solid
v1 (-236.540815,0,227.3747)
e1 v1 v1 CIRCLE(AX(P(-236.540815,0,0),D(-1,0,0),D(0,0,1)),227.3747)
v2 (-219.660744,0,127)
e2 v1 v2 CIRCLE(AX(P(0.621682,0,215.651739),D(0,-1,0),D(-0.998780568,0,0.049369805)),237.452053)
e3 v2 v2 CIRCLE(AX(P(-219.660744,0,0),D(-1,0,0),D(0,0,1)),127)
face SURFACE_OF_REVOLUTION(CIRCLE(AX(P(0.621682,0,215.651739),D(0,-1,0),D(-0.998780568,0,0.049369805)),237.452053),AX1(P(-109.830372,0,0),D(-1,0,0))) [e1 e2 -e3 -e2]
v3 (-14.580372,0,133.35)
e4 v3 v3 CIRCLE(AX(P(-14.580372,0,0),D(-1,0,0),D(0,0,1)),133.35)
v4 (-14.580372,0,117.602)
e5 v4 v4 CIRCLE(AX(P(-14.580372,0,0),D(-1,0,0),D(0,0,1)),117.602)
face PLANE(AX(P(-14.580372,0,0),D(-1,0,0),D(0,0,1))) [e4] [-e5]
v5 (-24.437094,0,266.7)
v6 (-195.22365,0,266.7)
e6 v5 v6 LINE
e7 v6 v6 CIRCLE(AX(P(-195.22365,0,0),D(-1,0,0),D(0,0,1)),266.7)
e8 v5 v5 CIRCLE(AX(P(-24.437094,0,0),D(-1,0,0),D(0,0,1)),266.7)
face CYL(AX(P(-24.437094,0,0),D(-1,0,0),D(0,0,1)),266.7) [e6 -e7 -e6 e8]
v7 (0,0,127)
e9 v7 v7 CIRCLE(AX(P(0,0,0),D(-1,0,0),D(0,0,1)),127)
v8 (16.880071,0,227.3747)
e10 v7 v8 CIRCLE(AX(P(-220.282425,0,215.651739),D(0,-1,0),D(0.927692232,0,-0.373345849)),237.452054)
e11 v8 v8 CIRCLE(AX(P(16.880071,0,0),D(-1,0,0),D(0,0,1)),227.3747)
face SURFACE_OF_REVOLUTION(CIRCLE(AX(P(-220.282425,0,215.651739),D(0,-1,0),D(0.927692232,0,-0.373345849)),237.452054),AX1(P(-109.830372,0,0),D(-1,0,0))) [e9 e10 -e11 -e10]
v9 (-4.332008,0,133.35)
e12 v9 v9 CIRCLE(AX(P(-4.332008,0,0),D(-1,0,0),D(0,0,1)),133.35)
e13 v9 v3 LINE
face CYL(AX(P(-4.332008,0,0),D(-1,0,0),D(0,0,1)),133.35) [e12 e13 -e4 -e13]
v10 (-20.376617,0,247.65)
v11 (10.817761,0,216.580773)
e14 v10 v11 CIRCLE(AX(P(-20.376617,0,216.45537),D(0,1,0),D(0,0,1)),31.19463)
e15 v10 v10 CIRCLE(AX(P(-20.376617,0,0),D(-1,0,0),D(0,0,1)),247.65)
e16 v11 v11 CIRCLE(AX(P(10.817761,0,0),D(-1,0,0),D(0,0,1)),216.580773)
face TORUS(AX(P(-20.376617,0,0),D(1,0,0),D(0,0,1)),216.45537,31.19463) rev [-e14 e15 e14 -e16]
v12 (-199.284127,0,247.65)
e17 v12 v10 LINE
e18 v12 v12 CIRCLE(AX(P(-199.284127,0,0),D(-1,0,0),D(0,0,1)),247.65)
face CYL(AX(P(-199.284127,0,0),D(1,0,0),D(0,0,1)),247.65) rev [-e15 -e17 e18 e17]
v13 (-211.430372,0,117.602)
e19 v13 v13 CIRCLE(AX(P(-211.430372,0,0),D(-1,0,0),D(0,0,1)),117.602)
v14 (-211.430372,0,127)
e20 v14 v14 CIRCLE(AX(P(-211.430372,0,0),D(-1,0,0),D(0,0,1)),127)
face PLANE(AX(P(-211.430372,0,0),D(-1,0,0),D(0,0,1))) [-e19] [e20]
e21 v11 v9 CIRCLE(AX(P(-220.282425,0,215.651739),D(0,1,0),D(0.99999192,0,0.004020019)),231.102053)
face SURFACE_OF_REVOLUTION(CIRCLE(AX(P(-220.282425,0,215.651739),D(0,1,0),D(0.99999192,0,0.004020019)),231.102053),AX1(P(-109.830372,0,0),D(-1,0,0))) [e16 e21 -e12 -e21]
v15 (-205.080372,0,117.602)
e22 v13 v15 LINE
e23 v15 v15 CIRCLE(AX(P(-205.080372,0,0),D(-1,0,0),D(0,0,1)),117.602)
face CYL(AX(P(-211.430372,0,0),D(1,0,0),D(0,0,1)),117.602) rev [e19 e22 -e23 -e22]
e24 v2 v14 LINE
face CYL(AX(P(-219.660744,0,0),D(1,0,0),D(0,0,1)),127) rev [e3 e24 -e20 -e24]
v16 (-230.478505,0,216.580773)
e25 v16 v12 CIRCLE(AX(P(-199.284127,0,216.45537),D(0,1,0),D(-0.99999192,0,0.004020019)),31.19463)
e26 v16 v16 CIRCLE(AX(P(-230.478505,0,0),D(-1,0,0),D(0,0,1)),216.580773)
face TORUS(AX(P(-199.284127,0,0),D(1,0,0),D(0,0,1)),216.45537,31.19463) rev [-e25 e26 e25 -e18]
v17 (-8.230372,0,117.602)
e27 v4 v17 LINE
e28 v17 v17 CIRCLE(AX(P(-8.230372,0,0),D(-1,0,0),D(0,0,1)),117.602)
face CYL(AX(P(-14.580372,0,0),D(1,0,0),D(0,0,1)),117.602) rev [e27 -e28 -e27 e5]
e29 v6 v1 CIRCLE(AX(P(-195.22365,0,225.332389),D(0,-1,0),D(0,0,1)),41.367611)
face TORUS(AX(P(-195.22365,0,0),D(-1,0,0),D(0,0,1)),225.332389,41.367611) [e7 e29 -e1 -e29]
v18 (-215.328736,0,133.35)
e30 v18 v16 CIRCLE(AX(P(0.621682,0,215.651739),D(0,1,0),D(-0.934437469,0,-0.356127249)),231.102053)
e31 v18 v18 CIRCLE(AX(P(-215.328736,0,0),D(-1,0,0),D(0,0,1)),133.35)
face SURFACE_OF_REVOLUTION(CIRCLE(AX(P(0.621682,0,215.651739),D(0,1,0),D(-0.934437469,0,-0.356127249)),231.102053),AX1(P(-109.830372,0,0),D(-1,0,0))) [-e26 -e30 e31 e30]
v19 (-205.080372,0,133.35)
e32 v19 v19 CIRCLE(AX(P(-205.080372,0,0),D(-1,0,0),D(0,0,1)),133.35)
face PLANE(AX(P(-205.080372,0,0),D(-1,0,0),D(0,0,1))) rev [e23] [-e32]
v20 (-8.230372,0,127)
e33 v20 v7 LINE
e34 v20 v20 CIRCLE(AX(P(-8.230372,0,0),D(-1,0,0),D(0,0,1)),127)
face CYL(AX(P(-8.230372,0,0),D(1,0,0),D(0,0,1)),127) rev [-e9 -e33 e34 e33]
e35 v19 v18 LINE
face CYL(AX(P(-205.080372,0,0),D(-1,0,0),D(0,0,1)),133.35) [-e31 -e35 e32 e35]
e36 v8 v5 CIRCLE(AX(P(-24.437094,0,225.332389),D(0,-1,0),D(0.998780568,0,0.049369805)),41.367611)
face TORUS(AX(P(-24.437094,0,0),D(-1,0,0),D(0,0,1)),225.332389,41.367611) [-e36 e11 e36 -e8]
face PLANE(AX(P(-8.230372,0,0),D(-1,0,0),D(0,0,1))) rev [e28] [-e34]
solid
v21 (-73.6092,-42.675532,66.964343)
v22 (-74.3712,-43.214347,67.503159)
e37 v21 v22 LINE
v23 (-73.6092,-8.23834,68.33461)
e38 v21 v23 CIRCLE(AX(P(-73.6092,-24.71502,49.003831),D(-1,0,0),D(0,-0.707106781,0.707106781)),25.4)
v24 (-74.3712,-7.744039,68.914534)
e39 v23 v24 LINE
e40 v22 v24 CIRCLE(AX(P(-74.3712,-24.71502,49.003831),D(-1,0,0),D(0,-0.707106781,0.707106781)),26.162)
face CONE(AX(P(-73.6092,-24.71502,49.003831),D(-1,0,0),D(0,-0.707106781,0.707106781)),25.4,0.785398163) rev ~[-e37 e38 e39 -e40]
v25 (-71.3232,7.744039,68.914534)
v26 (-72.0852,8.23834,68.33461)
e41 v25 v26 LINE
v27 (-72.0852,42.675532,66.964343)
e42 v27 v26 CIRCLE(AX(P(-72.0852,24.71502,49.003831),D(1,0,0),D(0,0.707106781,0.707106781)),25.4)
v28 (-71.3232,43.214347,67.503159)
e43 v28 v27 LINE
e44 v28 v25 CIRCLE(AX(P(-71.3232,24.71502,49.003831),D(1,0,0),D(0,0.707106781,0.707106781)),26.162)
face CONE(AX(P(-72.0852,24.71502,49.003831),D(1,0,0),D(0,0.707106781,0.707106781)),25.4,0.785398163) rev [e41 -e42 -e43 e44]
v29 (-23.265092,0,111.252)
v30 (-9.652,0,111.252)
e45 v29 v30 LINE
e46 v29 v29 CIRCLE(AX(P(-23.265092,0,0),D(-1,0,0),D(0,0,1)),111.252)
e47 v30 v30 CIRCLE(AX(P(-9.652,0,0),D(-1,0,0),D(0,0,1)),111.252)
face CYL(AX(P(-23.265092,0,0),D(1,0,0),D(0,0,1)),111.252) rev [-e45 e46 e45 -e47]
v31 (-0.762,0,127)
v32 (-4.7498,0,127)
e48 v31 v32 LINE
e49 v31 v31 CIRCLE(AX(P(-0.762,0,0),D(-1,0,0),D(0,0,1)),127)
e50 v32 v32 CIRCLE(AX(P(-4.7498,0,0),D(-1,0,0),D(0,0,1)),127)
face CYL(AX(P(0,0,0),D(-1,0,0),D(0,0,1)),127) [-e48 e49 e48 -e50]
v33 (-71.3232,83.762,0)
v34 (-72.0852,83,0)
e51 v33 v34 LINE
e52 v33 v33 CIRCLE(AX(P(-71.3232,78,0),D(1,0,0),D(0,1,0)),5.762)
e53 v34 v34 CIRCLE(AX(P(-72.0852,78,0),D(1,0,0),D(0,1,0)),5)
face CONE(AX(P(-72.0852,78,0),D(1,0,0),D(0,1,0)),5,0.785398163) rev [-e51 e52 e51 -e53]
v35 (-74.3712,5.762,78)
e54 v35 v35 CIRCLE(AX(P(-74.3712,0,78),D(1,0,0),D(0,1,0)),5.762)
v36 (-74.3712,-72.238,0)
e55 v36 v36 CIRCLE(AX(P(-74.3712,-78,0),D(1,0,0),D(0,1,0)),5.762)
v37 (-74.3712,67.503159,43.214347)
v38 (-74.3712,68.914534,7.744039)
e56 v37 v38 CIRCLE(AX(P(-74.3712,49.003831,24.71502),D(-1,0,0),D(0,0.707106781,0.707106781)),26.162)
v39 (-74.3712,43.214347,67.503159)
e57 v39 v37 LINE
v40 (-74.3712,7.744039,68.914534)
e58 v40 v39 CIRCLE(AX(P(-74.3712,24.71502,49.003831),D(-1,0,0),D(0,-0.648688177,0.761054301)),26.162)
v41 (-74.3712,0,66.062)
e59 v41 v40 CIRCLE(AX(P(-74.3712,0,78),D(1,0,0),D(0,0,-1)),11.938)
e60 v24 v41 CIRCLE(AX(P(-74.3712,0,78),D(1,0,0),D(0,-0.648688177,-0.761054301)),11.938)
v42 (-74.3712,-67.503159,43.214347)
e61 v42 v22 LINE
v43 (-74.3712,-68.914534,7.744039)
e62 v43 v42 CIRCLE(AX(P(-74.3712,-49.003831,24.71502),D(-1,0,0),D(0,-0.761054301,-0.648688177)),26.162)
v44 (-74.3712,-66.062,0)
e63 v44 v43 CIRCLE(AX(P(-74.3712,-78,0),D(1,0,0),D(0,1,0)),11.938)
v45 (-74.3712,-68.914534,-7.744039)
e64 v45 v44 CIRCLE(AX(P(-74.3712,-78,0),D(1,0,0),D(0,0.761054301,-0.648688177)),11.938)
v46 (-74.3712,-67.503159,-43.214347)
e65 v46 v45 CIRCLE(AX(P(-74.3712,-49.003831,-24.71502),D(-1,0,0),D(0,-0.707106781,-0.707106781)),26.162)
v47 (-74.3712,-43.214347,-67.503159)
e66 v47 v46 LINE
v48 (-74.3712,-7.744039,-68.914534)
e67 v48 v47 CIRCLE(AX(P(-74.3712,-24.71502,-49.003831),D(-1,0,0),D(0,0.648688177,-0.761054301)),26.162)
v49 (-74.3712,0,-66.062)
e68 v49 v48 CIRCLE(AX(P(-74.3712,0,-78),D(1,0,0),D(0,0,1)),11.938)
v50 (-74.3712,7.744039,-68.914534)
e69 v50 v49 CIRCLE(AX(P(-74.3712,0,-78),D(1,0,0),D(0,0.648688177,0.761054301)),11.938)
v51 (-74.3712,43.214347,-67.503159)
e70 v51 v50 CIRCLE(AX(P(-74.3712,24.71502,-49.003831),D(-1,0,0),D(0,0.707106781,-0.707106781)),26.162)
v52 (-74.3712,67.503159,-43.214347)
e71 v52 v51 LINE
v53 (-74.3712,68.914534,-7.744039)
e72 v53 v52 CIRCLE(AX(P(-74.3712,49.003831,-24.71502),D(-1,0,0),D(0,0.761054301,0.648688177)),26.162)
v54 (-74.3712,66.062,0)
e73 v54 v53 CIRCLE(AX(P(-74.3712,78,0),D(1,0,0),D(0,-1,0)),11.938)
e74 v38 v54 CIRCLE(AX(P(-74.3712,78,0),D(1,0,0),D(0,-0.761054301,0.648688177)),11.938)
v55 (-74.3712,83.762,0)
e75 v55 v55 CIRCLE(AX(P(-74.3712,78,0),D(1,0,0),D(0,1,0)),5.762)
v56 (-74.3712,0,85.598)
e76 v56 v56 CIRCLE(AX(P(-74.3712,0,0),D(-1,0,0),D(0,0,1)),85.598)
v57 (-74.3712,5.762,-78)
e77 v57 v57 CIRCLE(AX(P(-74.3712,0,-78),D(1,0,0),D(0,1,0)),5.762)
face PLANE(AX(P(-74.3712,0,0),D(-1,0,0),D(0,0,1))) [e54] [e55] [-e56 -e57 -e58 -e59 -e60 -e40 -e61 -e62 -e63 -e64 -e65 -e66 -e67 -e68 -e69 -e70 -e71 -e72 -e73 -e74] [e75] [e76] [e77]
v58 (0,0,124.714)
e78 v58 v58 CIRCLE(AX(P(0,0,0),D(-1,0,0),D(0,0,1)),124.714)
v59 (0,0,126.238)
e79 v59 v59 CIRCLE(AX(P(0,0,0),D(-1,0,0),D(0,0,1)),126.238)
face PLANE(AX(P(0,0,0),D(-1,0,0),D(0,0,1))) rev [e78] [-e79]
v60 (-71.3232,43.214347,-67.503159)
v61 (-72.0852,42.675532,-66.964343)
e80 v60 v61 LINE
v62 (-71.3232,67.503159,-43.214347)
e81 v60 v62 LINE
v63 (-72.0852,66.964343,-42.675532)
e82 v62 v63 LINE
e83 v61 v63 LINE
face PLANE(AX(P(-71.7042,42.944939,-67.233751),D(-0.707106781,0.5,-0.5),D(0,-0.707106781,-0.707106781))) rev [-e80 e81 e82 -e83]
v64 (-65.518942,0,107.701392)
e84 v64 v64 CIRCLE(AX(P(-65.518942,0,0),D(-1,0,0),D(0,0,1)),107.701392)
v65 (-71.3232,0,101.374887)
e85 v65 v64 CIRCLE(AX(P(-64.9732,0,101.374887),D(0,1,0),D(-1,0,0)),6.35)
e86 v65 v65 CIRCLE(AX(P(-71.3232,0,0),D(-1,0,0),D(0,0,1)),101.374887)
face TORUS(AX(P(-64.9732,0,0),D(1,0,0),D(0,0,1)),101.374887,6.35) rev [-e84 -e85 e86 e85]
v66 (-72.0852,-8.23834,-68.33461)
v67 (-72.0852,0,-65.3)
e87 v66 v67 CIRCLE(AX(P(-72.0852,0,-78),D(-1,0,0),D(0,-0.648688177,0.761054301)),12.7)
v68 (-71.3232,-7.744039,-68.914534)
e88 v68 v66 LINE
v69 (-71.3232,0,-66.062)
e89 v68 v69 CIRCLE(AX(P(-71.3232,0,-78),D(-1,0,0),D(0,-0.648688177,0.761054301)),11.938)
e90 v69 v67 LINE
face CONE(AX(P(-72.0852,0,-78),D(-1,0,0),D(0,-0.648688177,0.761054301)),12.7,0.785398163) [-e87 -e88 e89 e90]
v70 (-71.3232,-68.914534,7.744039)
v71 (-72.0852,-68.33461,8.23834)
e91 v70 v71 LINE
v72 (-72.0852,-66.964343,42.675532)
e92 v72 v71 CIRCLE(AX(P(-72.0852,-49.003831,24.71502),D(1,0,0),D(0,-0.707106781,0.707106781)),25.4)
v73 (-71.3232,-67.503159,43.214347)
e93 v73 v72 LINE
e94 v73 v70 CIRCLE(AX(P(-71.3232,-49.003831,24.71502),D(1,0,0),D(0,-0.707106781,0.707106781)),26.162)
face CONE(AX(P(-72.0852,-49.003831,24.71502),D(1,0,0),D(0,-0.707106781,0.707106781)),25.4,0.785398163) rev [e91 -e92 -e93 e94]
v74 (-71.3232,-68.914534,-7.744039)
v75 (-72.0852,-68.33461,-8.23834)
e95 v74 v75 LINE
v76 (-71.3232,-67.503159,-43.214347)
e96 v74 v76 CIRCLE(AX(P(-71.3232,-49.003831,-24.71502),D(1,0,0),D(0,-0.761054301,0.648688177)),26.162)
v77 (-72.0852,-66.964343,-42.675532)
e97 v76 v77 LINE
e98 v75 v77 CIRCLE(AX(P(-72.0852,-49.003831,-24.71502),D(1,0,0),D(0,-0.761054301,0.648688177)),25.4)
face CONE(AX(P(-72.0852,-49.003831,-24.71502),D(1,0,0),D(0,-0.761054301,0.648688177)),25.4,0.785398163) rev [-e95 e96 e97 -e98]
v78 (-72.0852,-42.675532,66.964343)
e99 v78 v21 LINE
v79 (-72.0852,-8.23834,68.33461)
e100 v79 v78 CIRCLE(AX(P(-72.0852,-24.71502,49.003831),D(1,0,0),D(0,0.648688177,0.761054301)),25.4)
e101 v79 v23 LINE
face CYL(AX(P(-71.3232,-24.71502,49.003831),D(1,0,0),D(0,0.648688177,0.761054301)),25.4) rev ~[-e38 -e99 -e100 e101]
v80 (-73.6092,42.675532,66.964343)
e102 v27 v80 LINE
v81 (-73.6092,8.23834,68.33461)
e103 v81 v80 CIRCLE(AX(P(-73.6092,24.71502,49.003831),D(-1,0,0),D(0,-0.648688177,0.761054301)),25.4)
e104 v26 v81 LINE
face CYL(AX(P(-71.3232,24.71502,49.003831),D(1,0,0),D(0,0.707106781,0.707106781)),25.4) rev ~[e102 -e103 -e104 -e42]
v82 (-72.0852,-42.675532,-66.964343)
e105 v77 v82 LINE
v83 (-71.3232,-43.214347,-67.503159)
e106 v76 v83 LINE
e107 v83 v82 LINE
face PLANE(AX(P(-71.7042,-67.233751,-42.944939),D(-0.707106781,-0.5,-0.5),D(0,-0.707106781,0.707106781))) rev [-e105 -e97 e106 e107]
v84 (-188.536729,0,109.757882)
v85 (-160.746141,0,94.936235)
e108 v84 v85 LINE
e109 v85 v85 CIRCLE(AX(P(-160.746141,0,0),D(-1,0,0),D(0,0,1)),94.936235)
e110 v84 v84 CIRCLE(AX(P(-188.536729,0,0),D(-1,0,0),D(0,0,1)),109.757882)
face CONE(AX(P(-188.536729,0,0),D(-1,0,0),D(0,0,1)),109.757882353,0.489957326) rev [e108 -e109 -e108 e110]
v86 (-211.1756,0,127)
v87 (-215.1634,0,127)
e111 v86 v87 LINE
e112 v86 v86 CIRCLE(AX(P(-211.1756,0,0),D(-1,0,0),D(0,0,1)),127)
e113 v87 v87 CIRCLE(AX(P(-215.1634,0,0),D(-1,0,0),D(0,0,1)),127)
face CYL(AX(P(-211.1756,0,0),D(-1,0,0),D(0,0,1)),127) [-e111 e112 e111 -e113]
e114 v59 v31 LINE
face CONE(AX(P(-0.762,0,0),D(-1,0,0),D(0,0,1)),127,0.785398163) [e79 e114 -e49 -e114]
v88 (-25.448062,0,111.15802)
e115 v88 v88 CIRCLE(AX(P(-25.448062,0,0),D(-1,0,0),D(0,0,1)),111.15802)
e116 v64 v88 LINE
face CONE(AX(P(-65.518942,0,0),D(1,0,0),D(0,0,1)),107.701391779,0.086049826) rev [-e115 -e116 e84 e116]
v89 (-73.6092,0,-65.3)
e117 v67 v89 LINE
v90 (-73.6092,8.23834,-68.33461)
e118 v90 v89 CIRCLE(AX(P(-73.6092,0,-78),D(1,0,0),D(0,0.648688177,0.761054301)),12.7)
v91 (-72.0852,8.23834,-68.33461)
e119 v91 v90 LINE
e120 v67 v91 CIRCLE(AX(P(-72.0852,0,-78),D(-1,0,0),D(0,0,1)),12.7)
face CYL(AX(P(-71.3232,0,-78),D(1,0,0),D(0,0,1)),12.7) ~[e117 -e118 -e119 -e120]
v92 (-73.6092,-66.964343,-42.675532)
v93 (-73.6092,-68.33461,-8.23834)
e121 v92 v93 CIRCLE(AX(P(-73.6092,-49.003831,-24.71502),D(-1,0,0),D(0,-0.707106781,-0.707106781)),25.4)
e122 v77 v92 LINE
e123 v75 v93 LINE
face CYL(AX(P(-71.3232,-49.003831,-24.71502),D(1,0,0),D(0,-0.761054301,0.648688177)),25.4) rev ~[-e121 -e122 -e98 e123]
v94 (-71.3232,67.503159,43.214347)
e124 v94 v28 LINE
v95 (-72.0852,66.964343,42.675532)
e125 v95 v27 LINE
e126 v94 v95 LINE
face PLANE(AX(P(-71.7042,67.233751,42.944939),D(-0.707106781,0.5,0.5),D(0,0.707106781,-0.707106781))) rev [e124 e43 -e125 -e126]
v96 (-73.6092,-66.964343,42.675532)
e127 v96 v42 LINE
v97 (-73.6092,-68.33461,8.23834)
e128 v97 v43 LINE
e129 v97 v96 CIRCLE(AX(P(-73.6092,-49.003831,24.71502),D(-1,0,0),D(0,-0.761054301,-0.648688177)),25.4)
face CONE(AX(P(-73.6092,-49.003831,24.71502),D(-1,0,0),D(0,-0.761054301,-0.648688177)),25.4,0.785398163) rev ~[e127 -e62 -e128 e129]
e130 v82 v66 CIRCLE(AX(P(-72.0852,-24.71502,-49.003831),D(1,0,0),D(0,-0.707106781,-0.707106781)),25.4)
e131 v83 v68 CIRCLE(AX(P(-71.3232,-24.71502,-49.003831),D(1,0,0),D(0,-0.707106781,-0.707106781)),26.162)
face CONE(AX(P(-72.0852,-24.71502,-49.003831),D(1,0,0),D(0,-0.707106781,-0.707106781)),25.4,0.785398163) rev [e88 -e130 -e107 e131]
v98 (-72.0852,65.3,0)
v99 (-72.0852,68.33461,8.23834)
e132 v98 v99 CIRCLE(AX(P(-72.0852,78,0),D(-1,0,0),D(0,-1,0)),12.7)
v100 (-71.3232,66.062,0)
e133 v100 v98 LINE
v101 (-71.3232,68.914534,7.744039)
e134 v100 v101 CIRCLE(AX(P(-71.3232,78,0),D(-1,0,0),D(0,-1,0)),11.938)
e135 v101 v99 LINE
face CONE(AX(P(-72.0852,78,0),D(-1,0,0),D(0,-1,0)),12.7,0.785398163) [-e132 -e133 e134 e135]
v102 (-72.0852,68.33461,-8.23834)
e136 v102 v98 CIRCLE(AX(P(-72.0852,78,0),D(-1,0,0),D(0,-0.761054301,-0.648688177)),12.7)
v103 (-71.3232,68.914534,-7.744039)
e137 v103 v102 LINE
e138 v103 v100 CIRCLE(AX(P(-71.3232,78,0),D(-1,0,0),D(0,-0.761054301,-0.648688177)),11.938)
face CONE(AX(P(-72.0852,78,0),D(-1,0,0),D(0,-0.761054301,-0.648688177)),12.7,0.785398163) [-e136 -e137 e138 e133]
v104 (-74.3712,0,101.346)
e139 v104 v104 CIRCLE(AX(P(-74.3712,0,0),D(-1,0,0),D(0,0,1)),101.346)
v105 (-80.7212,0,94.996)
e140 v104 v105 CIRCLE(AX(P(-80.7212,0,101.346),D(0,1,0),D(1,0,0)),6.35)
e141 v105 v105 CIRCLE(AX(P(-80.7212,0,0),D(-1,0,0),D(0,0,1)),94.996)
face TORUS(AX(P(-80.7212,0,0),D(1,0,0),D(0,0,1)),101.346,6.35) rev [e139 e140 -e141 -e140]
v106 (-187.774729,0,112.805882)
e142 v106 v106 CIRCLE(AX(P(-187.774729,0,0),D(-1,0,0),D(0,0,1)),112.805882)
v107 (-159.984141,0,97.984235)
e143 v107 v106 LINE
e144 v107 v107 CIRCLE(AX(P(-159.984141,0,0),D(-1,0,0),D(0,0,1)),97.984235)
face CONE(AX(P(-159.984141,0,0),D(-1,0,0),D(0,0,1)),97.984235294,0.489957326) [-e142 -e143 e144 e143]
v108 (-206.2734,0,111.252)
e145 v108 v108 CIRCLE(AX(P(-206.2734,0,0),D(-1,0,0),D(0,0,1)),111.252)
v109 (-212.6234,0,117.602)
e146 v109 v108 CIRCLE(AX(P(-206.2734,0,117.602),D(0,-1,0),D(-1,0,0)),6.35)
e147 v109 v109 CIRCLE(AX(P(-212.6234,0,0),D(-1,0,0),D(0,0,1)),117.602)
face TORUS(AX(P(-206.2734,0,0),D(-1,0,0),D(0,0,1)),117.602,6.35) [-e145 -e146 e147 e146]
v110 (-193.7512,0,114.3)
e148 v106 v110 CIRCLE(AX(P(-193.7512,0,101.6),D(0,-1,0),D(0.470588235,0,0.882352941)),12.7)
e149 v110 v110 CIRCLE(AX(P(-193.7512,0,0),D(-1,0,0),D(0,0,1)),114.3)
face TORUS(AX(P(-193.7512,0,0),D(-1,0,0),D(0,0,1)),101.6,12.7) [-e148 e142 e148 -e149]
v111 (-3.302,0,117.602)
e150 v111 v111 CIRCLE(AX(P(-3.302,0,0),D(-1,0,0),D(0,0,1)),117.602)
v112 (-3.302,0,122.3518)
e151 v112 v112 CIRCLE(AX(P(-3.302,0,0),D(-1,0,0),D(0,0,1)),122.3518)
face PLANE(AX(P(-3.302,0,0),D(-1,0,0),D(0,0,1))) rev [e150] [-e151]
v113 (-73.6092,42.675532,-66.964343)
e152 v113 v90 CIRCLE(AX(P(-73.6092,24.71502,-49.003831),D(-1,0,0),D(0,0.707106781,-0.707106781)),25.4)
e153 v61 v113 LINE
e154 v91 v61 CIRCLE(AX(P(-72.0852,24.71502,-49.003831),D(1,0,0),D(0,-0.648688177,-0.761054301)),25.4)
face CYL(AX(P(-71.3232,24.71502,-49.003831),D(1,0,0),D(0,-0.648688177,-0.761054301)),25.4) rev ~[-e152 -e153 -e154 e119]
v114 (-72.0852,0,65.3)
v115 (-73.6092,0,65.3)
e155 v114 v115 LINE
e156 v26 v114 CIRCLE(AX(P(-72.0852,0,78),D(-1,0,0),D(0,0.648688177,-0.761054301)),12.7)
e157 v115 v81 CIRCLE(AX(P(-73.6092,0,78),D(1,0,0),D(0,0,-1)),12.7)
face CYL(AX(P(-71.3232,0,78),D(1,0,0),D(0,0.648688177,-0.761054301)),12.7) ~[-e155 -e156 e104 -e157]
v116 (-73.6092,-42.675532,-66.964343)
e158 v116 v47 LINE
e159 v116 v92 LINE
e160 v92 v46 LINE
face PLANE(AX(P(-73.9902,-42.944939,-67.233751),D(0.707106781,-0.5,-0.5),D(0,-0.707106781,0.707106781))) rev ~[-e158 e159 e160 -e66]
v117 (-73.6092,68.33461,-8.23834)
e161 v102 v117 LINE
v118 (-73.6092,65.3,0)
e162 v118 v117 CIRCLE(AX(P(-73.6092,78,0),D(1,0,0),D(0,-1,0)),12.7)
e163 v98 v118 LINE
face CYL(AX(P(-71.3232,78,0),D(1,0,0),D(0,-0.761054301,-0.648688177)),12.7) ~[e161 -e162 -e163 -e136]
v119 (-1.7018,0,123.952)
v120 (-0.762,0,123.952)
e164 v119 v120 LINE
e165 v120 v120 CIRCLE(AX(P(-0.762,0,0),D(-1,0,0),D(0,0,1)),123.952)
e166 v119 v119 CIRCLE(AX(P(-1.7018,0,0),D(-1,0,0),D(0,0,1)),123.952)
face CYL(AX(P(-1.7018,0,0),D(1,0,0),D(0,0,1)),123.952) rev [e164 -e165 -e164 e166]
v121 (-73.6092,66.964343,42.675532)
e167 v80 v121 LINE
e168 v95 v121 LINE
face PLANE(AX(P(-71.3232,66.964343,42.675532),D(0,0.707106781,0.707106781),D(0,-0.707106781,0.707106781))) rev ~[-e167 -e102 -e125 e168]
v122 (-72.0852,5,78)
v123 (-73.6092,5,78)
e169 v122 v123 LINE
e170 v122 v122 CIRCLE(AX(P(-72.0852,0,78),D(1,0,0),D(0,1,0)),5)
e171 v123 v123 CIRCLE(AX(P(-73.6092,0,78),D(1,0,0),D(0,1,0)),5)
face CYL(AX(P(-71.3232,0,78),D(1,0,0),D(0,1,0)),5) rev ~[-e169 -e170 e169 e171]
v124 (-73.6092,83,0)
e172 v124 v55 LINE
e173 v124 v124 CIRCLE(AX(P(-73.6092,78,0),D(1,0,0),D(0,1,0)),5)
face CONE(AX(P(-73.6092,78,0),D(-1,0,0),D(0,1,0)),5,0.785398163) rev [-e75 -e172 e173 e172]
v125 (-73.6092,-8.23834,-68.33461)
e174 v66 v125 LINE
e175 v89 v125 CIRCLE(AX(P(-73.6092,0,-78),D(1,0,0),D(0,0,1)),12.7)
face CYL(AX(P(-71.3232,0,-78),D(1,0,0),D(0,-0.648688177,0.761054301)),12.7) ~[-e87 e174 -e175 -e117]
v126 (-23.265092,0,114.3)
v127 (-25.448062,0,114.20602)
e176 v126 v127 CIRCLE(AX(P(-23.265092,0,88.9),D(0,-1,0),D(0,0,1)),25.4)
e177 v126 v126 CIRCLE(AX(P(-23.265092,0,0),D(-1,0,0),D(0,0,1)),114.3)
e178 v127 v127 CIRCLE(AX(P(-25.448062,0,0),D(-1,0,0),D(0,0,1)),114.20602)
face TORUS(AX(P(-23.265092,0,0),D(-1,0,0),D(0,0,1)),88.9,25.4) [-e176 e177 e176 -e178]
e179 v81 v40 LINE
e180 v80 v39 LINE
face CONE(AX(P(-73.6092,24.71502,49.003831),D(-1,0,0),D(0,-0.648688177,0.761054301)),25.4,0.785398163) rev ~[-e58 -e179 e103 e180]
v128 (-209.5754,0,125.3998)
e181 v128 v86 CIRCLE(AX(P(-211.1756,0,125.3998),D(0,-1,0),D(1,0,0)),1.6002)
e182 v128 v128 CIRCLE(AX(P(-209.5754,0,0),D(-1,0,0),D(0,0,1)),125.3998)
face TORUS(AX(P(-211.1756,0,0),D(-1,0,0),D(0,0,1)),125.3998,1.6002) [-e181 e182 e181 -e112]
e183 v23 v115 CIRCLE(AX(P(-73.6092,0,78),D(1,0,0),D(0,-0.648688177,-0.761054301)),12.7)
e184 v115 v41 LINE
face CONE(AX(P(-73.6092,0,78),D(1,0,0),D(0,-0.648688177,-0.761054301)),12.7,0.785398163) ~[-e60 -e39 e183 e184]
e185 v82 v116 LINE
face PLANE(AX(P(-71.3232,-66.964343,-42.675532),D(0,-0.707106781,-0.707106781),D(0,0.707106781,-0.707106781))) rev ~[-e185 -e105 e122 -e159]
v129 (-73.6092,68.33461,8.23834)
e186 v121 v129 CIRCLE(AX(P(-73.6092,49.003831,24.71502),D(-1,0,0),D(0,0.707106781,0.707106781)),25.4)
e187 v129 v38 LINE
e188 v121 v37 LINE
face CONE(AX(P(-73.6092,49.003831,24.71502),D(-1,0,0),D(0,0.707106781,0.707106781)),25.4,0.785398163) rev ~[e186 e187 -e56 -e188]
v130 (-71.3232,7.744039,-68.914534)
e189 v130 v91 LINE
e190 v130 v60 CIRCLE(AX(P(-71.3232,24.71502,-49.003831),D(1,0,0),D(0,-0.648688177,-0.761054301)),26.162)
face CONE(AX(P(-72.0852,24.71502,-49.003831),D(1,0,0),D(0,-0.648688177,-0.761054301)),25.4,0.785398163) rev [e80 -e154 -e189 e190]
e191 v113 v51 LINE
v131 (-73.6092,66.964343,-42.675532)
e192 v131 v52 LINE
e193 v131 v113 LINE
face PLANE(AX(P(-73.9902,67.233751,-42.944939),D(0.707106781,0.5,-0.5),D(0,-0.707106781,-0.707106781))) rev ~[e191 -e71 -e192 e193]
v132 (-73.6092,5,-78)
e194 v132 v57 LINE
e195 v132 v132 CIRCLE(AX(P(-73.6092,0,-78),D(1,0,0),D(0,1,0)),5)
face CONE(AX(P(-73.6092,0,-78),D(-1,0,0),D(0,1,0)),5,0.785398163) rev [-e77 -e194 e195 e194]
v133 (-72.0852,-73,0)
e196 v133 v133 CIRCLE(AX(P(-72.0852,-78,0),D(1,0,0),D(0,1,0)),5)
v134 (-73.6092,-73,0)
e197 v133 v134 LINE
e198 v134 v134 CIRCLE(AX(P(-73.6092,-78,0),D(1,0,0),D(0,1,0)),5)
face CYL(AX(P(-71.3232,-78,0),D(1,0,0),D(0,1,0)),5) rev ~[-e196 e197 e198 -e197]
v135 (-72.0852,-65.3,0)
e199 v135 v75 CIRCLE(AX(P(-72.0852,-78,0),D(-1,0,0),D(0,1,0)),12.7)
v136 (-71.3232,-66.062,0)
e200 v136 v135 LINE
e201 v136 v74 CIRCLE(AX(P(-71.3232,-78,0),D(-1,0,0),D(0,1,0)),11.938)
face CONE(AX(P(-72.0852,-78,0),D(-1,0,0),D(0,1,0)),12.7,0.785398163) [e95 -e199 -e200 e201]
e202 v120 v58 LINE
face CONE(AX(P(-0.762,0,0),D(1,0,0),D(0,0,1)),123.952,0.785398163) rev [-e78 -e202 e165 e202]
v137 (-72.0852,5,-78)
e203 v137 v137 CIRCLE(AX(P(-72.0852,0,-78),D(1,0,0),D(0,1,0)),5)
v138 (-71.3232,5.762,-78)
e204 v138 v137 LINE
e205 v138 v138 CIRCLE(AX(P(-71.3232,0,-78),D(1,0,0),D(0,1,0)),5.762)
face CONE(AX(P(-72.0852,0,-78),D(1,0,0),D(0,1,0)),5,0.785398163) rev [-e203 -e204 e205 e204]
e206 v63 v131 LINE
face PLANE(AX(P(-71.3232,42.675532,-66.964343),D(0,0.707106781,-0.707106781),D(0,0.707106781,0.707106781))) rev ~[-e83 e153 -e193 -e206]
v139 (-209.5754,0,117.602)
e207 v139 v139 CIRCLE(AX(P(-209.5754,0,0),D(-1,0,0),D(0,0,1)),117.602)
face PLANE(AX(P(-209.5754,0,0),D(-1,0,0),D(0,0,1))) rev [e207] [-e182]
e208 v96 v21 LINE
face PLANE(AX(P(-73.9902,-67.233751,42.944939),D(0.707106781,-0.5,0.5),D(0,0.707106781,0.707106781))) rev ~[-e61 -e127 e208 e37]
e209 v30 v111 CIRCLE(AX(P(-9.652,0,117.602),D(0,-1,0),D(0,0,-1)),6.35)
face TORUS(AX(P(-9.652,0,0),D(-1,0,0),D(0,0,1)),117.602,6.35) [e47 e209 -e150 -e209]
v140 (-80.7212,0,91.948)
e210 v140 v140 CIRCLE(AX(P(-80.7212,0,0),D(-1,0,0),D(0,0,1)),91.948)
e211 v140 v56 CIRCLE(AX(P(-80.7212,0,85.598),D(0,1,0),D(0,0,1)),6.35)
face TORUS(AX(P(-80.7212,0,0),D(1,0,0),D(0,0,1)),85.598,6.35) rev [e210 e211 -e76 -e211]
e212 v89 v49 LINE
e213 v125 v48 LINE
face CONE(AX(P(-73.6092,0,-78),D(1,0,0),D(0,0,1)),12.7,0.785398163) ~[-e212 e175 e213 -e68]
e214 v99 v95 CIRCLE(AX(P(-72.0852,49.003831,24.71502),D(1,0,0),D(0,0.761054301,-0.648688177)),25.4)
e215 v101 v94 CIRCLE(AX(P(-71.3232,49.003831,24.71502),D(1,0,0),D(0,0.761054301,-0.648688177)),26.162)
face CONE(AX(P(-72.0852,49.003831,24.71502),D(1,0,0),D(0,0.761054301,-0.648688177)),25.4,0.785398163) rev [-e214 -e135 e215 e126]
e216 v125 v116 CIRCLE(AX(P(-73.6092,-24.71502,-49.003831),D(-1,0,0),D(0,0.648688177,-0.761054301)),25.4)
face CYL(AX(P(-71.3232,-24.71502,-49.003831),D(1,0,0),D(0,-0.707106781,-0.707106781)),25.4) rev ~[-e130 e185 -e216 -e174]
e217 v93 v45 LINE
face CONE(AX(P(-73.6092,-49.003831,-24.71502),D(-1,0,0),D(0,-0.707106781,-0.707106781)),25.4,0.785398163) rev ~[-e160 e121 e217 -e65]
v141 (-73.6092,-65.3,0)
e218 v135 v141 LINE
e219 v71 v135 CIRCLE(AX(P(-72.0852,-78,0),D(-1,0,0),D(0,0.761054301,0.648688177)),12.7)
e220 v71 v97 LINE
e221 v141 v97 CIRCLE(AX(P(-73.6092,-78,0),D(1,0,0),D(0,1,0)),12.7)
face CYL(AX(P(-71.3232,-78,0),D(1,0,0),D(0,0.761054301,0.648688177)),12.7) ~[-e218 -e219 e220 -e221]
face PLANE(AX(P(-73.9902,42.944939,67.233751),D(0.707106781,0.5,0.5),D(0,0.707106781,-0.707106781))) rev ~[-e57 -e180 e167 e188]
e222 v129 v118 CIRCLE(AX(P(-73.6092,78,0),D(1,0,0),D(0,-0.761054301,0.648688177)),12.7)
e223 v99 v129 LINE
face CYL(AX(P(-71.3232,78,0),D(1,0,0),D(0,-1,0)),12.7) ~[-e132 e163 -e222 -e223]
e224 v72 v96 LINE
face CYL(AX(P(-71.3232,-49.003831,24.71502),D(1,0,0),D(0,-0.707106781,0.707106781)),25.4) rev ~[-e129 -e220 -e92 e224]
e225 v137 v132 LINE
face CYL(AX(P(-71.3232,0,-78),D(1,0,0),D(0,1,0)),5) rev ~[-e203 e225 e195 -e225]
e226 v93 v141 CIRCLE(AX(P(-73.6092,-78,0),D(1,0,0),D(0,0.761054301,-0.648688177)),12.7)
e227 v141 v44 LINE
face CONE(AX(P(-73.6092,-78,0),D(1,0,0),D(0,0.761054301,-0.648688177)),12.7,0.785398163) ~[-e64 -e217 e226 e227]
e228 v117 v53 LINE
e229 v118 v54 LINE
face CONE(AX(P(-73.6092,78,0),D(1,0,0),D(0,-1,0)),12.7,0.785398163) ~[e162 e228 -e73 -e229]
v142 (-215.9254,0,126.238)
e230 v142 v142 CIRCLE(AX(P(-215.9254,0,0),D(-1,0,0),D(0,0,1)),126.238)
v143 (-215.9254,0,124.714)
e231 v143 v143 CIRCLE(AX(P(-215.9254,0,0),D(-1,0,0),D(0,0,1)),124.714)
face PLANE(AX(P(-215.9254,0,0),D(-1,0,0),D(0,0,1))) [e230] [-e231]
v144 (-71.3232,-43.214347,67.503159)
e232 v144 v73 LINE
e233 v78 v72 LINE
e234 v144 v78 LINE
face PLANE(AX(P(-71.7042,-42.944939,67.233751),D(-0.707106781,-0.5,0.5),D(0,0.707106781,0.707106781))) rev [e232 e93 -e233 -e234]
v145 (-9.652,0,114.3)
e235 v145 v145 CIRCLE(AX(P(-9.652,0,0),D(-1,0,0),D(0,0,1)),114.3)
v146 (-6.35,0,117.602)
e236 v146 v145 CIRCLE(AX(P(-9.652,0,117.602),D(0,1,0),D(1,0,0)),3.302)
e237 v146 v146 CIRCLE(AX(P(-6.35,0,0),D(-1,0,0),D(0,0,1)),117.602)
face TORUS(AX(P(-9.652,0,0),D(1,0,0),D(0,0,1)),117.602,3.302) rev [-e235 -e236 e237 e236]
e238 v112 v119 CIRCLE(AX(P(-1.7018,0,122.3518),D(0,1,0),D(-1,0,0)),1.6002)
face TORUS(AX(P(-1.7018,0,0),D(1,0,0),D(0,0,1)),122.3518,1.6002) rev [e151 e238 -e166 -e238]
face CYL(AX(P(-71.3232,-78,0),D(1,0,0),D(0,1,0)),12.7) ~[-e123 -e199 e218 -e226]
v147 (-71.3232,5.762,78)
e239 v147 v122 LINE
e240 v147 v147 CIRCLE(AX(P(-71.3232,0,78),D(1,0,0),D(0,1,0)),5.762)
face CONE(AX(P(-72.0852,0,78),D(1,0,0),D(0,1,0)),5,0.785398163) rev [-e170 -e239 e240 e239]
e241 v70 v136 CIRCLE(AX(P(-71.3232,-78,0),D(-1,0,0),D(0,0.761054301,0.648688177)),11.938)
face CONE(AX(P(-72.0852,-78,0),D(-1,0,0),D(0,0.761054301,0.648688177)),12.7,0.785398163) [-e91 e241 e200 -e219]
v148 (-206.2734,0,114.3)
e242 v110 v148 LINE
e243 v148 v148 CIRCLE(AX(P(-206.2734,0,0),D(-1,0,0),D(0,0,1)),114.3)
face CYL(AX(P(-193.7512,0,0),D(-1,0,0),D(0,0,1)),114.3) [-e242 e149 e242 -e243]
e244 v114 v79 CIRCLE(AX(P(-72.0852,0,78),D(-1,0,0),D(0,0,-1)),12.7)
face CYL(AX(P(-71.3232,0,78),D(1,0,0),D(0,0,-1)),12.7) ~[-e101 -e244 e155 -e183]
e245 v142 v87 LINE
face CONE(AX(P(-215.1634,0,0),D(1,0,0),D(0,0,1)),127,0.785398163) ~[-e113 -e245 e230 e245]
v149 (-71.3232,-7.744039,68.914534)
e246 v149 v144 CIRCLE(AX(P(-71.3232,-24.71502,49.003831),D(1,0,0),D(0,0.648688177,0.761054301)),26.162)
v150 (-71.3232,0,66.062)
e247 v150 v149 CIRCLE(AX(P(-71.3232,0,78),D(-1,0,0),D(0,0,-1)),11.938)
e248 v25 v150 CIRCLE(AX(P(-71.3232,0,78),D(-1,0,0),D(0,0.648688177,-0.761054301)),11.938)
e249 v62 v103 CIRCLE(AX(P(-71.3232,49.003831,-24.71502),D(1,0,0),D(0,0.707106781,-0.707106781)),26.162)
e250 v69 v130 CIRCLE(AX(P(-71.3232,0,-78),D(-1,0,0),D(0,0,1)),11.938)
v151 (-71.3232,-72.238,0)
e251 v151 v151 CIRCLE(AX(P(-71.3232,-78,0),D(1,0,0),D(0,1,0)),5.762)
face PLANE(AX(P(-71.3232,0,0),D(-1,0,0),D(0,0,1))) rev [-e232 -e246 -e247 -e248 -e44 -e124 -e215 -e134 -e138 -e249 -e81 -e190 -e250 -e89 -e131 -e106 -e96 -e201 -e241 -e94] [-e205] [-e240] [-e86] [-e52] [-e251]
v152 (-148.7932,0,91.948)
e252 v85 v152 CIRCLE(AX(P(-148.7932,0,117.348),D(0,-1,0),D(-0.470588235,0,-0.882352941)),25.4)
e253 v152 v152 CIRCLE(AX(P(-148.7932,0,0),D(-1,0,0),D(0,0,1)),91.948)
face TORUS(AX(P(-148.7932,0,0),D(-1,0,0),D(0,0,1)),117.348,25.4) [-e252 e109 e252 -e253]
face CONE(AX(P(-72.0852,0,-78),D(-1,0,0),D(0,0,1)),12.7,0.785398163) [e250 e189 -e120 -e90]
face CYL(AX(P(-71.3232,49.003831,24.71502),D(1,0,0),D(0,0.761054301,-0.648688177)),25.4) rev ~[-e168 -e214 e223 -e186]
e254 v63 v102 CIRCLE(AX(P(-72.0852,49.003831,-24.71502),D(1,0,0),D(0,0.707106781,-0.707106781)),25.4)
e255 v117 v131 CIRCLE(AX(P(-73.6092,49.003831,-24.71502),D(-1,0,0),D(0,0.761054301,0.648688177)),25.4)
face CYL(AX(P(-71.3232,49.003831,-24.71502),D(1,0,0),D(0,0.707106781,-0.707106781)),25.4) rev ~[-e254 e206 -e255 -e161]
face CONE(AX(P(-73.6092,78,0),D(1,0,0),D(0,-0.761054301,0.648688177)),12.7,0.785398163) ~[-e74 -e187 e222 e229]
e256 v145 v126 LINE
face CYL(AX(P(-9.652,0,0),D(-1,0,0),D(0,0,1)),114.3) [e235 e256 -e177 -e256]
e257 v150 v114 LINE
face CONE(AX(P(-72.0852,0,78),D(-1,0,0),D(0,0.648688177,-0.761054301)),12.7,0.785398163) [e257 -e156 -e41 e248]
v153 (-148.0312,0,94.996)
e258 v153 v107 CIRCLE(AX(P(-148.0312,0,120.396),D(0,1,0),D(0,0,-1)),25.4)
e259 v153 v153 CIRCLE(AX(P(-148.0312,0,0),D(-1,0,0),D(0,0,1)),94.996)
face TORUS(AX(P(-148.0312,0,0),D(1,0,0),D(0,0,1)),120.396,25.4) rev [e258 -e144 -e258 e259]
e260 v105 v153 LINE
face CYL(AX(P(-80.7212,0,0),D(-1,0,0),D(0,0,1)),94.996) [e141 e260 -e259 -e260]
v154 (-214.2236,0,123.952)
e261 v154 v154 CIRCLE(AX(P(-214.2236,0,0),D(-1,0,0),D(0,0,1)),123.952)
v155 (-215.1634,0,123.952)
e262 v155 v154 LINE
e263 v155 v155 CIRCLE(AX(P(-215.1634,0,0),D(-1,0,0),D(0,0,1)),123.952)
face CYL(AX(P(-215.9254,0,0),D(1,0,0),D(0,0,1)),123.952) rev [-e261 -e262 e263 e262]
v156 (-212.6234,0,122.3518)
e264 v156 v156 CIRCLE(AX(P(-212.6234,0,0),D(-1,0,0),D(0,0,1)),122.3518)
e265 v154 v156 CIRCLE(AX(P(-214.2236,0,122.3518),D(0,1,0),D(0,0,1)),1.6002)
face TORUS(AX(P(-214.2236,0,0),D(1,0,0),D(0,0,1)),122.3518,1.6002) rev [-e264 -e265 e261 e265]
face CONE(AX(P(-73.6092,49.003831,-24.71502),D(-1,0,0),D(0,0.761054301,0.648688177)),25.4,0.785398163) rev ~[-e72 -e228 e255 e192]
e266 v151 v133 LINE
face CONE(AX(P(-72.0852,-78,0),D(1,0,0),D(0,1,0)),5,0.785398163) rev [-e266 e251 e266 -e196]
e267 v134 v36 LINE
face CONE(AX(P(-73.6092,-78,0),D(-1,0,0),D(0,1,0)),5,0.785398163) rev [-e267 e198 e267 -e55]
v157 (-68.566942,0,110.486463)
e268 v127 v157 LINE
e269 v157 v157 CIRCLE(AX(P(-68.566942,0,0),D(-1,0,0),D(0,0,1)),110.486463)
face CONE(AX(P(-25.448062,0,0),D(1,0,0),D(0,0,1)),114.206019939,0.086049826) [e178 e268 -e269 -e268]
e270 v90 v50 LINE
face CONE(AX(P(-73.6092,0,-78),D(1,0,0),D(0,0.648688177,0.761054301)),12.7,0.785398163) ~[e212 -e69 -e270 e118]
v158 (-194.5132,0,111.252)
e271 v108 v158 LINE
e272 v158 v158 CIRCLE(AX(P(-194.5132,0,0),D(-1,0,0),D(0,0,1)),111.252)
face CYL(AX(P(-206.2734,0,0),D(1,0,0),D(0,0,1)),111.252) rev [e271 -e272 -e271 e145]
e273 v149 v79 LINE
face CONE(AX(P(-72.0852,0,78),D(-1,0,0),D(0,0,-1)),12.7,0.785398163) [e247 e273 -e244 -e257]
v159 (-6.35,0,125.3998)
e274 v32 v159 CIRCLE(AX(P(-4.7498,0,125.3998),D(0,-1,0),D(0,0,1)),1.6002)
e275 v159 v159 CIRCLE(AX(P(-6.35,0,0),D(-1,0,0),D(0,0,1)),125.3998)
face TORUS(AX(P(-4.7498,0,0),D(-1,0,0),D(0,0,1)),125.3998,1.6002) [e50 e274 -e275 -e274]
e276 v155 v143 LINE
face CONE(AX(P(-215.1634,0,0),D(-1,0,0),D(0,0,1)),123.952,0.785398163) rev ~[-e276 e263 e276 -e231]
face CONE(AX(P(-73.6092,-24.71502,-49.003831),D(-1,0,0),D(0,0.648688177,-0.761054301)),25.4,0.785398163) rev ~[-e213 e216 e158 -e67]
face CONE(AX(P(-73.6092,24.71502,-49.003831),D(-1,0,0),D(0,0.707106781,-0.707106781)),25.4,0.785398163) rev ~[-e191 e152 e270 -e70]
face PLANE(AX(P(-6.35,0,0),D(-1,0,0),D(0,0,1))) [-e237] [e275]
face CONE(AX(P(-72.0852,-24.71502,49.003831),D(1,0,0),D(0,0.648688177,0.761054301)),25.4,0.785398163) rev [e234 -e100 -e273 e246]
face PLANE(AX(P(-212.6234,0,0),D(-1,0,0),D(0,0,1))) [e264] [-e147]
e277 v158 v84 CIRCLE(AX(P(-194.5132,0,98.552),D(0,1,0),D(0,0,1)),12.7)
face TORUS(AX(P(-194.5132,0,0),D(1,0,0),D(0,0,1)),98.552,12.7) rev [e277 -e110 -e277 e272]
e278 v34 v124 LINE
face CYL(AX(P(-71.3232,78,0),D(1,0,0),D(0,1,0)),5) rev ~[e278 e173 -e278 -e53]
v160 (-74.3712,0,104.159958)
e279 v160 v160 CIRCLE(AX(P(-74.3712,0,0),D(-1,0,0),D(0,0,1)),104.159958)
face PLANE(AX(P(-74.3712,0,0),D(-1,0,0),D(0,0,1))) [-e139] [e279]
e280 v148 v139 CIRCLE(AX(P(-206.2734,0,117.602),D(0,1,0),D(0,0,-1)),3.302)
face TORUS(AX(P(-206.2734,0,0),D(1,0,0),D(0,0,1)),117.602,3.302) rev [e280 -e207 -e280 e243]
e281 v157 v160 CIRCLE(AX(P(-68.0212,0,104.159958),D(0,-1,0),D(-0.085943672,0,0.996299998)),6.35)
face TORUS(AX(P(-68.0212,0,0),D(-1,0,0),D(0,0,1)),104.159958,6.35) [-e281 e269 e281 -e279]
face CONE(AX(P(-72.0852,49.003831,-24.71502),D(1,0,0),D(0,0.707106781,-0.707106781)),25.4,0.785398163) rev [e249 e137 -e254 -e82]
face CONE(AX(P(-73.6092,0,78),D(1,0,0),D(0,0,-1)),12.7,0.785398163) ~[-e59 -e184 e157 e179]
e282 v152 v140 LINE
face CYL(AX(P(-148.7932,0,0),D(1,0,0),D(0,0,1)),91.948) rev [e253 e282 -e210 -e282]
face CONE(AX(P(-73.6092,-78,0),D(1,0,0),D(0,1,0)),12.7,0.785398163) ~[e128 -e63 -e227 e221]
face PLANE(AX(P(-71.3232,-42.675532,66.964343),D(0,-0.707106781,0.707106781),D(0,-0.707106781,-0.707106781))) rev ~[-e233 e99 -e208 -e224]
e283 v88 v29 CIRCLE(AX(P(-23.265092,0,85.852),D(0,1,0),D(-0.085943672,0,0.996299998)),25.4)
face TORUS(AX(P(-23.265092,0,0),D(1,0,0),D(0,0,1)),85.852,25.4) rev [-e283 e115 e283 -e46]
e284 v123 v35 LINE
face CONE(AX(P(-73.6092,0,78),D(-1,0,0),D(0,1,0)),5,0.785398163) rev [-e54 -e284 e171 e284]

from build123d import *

# Parameters (mm, degrees)
F3_R     = 5
F4_DEPTH = 144.6032
F5_SIZE  = 0.762


with BuildPart() as f2:
    # F0 (on Front) → F2 (revolve)
    with BuildSketch(Plane.XZ):
        with BuildLine():
            ThreePointArc((-3.302, 122.3518), (-2.8333122713, 123.4833122713), (-1.7018, 123.952))
            Line((-1.7018, 123.952), (0, 123.952))
            Line((0, 123.952), (0, 127))
            Line((0, 127), (-4.7498, 127))
            ThreePointArc((-4.7498, 127), (-5.8813122713, 126.5313122713), (-6.35, 125.3998))
            Line((-6.35, 125.3998), (-6.35, 117.602))
            ThreePointArc((-6.35, 117.602), (-7.3171334085, 115.2671334085), (-9.652, 114.3))
            Line((-9.652, 114.3), (-23.2650923746, 114.3))
            ThreePointArc((-23.2650923746, 114.3), (-24.3575880365, 114.2764941083), (-25.4480616446, 114.2060199393))
            Line((-25.4480616446, 114.2060199393), (-68.5669423175, 110.4864626286))
            ThreePointArc((-68.5669423175, 110.4864626286), (-72.7003005394, 108.4528026378), (-74.3712, 104.1599576438))
            Line((-74.3712, 104.1599576438), (-74.3712, 101.346))
            ThreePointArc((-74.3712, 101.346), (-76.2310719395, 96.8558719395), (-80.7212, 94.996))
            Line((-80.7212, 94.996), (-148.0312, 94.996))
            ThreePointArc((-148.0312, 94.996), (-154.1916048759, 95.7543804963), (-159.9841411765, 97.9842352941))
            Line((-159.9841411765, 97.9842352941), (-187.7747294118, 112.8058823529))
            ThreePointArc((-187.7747294118, 112.8058823529), (-190.670997562, 113.9208097518), (-193.7512, 114.3))
            Line((-193.7512, 114.3), (-206.2734, 114.3))
            ThreePointArc((-206.2734, 114.3), (-208.6082665915, 115.2671334085), (-209.5754, 117.602))
            Line((-209.5754, 117.602), (-209.5754, 125.3998))
            ThreePointArc((-209.5754, 125.3998), (-210.0440877287, 126.5313122713), (-211.1756, 127))
            Line((-211.1756, 127), (-215.9254, 127))
            Line((-215.9254, 127), (-215.9254, 123.952))
            Line((-215.9254, 123.952), (-214.2236, 123.952))
            ThreePointArc((-214.2236, 123.952), (-213.0920877287, 123.4833122713), (-212.6234, 122.3518))
            Line((-212.6234, 122.3518), (-212.6234, 117.602))
            ThreePointArc((-212.6234, 117.602), (-210.7635280605, 113.1118719395), (-206.2734, 111.252))
            Line((-206.2734, 111.252), (-194.5132, 111.252))
            ThreePointArc((-194.5132, 111.252), (-191.432997562, 110.8728097518), (-188.5367294118, 109.7578823529))
            Line((-188.5367294118, 109.7578823529), (-160.7461411765, 94.9362352941))
            ThreePointArc((-160.7461411765, 94.9362352941), (-154.9536048759, 92.7063804963), (-148.7932, 91.948))
            Line((-148.7932, 91.948), (-80.7212, 91.948))
            ThreePointArc((-80.7212, 91.948), (-76.2310719395, 90.0881280605), (-74.3712, 85.598))
            Line((-74.3712, 85.598), (-74.3712, 0))
            Line((-74.3712, 0), (-71.3232, 0))
            Line((-71.3232, 0), (-71.3232, 101.3748867947))
            ThreePointArc((-71.3232, 101.3748867947), (-69.6523005394, 105.6677317886), (-65.5189423175, 107.7013917795))
            Line((-65.5189423175, 107.7013917795), (-25.4480616446, 111.1580199393))
            ThreePointArc((-25.4480616446, 111.1580199393), (-24.3575880365, 111.2284941083), (-23.2650923746, 111.252))
            Line((-23.2650923746, 111.252), (-9.652, 111.252))
            ThreePointArc((-9.652, 111.252), (-5.1618719395, 113.1118719395), (-3.302, 117.602))
            Line((-3.302, 117.602), (-3.302, 122.3518))
        make_face()
    revolve(axis=Axis((-109.8303719628, 0, 0), (-1, 0, 0)))

    # F3 (on face) → F4 (cut, through all)
    with BuildSketch(Plane.YZ.offset(-71.3232)):
        with Locations((0, 78)):
            Circle(F3_R)
        with BuildLine():
            ThreePointArc((8.2383398441, 68.3346103745), (4.3897352856, 66.0827761571), (0, 65.3))
            ThreePointArc((0, 65.3), (-4.3897352856, 66.0827761571), (-8.2383398441, 68.3346103745))
            ThreePointArc((-8.2383398441, 68.3346103745), (-25.7248946142, 74.3837474417), (-42.6755317745, 66.9643433656))
            Line((-42.6755317745, 66.9643433656), (-66.9643433656, 42.6755317745))
            ThreePointArc((-66.9643433656, 42.6755317745), (-74.3837474417, 25.7248946142), (-68.3346103745, 8.2383398441))
            ThreePointArc((-68.3346103745, 8.2383398441), (-66.0827761571, 4.3897352856), (-65.3, 0))
            ThreePointArc((-65.3, 0), (-66.0827761571, -4.3897352856), (-68.3346103745, -8.2383398441))
            ThreePointArc((-68.3346103745, -8.2383398441), (-74.3837474417, -25.7248946142), (-66.9643433656, -42.6755317745))
            Line((-66.9643433656, -42.6755317745), (-42.6755317745, -66.9643433656))
            ThreePointArc((-42.6755317745, -66.9643433656), (-25.7248946142, -74.3837474417), (-8.2383398441, -68.3346103745))
            ThreePointArc((-8.2383398441, -68.3346103745), (-4.3897352856, -66.0827761571), (0, -65.3))
            ThreePointArc((0, -65.3), (4.3897352856, -66.0827761571), (8.2383398441, -68.3346103745))
            ThreePointArc((8.2383398441, -68.3346103745), (25.7248946142, -74.3837474417), (42.6755317745, -66.9643433656))
            Line((42.6755317745, -66.9643433656), (66.9643433656, -42.6755317745))
            ThreePointArc((66.9643433656, -42.6755317745), (74.3837474417, -25.7248946142), (68.3346103745, -8.2383398441))
            ThreePointArc((68.3346103745, -8.2383398441), (66.0827761571, -4.3897352856), (65.3, 0))
            ThreePointArc((65.3, 0), (66.0827761571, 4.3897352856), (68.3346103745, 8.2383398441))
            ThreePointArc((68.3346103745, 8.2383398441), (74.3837474417, 25.7248946142), (66.9643433656, 42.6755317745))
            Line((66.9643433656, 42.6755317745), (42.6755317745, 66.9643433656))
            ThreePointArc((42.6755317745, 66.9643433656), (25.7248946142, 74.3837474417), (8.2383398441, 68.3346103745))
        make_face()
        with Locations((-78, 0)):
            Circle(F3_R)
        with Locations((0, -78)):
            Circle(F3_R)
        with Locations((78, 0)):
            Circle(F3_R)
    extrude(amount=-F4_DEPTH, mode=Mode.SUBTRACT)

    # F5
    f5_edges = [f2.edges().sort_by_distance(p)[0] for p in [
        (0, 0, -123.952),
        (0, 0, -127),
        (-215.9254, 0, -127),
        (-215.9254, 0, -123.952),
        (-71.3232, 73, 0),
        (-72.8472, 83, 0),
        (-74.3712, 73, 0),
        (-71.3232, -5, -78),
        (-72.8472, 5, -78),
        (-74.3712, -5, -78),
        (-71.3232, 54.819938, -54.819938),
        (-74.3712, 54.819938, -54.819938),
        (-71.3232, -83, 0),
        (-72.8472, -73, 0),
        (-74.3712, -83, 0),
        (-71.3232, -5, 78),
        (-72.8472, 5, 78),
        (-74.3712, -5, 78),
    ]]
    chamfer(f5_edges, length=F5_SIZE)


with BuildPart() as f6:
    # F1 (on Front) → F6 (revolve)
    with BuildSketch(Plane.XZ):
        with BuildLine():
            Line((-14.5803719628, 117.602), (-8.2303719628, 117.602))
            Line((-8.2303719628, 117.602), (-8.2303719628, 127))
            Line((-8.2303719628, 127), (0, 127))
            ThreePointArc((0, 127), (13.8814793807, 176.2722593542), (16.8800713226, 227.3747001768))
            ThreePointArc((16.8800713226, 227.3747001768), (4.083018642, 255.297074651), (-24.437094385, 266.7))
            Line((-24.437094385, 266.7), (-109.8303719628, 266.7))
            Line((-109.8303719628, 266.7), (-195.2236495406, 266.7))
            ThreePointArc((-195.2236495406, 266.7), (-223.7437625676, 255.297074651), (-236.5408152482, 227.3747001768))
            ThreePointArc((-236.5408152482, 227.3747001768), (-233.5422233064, 176.2722593542), (-219.6607439257, 127))
            Line((-219.6607439257, 127), (-211.4303719628, 127))
            Line((-211.4303719628, 127), (-211.4303719628, 117.602))
            Line((-211.4303719628, 117.602), (-205.0803719628, 117.602))
            Line((-205.0803719628, 117.602), (-205.0803719628, 133.35))
            Line((-205.0803719628, 133.35), (-215.3287363083, 133.35))
            ThreePointArc((-215.3287363083, 133.35), (-226.7445451304, 174.2662567365), (-230.4785045867, 216.5807731956))
            ThreePointArc((-230.4785045867, 216.5807731956), (-221.2976798066, 238.557596654), (-199.2841268367, 247.65))
            Line((-199.2841268367, 247.65), (-109.8303719628, 247.65))
            Line((-109.8303719628, 247.65), (-20.3766170889, 247.65))
            ThreePointArc((-20.3766170889, 247.65), (1.636935881, 238.557596654), (10.8177606611, 216.5807731956))
            ThreePointArc((10.8177606611, 216.5807731956), (7.0838012047, 174.2662567365), (-4.3320076174, 133.35))
            Line((-4.3320076174, 133.35), (-14.5803719628, 133.35))
            Line((-14.5803719628, 133.35), (-14.5803719628, 117.602))
        make_face()
    revolve(axis=Axis((-109.8303719628, 0, 0), (-1, 0, 0)))


solid = Compound([f2.part, f6.part])
